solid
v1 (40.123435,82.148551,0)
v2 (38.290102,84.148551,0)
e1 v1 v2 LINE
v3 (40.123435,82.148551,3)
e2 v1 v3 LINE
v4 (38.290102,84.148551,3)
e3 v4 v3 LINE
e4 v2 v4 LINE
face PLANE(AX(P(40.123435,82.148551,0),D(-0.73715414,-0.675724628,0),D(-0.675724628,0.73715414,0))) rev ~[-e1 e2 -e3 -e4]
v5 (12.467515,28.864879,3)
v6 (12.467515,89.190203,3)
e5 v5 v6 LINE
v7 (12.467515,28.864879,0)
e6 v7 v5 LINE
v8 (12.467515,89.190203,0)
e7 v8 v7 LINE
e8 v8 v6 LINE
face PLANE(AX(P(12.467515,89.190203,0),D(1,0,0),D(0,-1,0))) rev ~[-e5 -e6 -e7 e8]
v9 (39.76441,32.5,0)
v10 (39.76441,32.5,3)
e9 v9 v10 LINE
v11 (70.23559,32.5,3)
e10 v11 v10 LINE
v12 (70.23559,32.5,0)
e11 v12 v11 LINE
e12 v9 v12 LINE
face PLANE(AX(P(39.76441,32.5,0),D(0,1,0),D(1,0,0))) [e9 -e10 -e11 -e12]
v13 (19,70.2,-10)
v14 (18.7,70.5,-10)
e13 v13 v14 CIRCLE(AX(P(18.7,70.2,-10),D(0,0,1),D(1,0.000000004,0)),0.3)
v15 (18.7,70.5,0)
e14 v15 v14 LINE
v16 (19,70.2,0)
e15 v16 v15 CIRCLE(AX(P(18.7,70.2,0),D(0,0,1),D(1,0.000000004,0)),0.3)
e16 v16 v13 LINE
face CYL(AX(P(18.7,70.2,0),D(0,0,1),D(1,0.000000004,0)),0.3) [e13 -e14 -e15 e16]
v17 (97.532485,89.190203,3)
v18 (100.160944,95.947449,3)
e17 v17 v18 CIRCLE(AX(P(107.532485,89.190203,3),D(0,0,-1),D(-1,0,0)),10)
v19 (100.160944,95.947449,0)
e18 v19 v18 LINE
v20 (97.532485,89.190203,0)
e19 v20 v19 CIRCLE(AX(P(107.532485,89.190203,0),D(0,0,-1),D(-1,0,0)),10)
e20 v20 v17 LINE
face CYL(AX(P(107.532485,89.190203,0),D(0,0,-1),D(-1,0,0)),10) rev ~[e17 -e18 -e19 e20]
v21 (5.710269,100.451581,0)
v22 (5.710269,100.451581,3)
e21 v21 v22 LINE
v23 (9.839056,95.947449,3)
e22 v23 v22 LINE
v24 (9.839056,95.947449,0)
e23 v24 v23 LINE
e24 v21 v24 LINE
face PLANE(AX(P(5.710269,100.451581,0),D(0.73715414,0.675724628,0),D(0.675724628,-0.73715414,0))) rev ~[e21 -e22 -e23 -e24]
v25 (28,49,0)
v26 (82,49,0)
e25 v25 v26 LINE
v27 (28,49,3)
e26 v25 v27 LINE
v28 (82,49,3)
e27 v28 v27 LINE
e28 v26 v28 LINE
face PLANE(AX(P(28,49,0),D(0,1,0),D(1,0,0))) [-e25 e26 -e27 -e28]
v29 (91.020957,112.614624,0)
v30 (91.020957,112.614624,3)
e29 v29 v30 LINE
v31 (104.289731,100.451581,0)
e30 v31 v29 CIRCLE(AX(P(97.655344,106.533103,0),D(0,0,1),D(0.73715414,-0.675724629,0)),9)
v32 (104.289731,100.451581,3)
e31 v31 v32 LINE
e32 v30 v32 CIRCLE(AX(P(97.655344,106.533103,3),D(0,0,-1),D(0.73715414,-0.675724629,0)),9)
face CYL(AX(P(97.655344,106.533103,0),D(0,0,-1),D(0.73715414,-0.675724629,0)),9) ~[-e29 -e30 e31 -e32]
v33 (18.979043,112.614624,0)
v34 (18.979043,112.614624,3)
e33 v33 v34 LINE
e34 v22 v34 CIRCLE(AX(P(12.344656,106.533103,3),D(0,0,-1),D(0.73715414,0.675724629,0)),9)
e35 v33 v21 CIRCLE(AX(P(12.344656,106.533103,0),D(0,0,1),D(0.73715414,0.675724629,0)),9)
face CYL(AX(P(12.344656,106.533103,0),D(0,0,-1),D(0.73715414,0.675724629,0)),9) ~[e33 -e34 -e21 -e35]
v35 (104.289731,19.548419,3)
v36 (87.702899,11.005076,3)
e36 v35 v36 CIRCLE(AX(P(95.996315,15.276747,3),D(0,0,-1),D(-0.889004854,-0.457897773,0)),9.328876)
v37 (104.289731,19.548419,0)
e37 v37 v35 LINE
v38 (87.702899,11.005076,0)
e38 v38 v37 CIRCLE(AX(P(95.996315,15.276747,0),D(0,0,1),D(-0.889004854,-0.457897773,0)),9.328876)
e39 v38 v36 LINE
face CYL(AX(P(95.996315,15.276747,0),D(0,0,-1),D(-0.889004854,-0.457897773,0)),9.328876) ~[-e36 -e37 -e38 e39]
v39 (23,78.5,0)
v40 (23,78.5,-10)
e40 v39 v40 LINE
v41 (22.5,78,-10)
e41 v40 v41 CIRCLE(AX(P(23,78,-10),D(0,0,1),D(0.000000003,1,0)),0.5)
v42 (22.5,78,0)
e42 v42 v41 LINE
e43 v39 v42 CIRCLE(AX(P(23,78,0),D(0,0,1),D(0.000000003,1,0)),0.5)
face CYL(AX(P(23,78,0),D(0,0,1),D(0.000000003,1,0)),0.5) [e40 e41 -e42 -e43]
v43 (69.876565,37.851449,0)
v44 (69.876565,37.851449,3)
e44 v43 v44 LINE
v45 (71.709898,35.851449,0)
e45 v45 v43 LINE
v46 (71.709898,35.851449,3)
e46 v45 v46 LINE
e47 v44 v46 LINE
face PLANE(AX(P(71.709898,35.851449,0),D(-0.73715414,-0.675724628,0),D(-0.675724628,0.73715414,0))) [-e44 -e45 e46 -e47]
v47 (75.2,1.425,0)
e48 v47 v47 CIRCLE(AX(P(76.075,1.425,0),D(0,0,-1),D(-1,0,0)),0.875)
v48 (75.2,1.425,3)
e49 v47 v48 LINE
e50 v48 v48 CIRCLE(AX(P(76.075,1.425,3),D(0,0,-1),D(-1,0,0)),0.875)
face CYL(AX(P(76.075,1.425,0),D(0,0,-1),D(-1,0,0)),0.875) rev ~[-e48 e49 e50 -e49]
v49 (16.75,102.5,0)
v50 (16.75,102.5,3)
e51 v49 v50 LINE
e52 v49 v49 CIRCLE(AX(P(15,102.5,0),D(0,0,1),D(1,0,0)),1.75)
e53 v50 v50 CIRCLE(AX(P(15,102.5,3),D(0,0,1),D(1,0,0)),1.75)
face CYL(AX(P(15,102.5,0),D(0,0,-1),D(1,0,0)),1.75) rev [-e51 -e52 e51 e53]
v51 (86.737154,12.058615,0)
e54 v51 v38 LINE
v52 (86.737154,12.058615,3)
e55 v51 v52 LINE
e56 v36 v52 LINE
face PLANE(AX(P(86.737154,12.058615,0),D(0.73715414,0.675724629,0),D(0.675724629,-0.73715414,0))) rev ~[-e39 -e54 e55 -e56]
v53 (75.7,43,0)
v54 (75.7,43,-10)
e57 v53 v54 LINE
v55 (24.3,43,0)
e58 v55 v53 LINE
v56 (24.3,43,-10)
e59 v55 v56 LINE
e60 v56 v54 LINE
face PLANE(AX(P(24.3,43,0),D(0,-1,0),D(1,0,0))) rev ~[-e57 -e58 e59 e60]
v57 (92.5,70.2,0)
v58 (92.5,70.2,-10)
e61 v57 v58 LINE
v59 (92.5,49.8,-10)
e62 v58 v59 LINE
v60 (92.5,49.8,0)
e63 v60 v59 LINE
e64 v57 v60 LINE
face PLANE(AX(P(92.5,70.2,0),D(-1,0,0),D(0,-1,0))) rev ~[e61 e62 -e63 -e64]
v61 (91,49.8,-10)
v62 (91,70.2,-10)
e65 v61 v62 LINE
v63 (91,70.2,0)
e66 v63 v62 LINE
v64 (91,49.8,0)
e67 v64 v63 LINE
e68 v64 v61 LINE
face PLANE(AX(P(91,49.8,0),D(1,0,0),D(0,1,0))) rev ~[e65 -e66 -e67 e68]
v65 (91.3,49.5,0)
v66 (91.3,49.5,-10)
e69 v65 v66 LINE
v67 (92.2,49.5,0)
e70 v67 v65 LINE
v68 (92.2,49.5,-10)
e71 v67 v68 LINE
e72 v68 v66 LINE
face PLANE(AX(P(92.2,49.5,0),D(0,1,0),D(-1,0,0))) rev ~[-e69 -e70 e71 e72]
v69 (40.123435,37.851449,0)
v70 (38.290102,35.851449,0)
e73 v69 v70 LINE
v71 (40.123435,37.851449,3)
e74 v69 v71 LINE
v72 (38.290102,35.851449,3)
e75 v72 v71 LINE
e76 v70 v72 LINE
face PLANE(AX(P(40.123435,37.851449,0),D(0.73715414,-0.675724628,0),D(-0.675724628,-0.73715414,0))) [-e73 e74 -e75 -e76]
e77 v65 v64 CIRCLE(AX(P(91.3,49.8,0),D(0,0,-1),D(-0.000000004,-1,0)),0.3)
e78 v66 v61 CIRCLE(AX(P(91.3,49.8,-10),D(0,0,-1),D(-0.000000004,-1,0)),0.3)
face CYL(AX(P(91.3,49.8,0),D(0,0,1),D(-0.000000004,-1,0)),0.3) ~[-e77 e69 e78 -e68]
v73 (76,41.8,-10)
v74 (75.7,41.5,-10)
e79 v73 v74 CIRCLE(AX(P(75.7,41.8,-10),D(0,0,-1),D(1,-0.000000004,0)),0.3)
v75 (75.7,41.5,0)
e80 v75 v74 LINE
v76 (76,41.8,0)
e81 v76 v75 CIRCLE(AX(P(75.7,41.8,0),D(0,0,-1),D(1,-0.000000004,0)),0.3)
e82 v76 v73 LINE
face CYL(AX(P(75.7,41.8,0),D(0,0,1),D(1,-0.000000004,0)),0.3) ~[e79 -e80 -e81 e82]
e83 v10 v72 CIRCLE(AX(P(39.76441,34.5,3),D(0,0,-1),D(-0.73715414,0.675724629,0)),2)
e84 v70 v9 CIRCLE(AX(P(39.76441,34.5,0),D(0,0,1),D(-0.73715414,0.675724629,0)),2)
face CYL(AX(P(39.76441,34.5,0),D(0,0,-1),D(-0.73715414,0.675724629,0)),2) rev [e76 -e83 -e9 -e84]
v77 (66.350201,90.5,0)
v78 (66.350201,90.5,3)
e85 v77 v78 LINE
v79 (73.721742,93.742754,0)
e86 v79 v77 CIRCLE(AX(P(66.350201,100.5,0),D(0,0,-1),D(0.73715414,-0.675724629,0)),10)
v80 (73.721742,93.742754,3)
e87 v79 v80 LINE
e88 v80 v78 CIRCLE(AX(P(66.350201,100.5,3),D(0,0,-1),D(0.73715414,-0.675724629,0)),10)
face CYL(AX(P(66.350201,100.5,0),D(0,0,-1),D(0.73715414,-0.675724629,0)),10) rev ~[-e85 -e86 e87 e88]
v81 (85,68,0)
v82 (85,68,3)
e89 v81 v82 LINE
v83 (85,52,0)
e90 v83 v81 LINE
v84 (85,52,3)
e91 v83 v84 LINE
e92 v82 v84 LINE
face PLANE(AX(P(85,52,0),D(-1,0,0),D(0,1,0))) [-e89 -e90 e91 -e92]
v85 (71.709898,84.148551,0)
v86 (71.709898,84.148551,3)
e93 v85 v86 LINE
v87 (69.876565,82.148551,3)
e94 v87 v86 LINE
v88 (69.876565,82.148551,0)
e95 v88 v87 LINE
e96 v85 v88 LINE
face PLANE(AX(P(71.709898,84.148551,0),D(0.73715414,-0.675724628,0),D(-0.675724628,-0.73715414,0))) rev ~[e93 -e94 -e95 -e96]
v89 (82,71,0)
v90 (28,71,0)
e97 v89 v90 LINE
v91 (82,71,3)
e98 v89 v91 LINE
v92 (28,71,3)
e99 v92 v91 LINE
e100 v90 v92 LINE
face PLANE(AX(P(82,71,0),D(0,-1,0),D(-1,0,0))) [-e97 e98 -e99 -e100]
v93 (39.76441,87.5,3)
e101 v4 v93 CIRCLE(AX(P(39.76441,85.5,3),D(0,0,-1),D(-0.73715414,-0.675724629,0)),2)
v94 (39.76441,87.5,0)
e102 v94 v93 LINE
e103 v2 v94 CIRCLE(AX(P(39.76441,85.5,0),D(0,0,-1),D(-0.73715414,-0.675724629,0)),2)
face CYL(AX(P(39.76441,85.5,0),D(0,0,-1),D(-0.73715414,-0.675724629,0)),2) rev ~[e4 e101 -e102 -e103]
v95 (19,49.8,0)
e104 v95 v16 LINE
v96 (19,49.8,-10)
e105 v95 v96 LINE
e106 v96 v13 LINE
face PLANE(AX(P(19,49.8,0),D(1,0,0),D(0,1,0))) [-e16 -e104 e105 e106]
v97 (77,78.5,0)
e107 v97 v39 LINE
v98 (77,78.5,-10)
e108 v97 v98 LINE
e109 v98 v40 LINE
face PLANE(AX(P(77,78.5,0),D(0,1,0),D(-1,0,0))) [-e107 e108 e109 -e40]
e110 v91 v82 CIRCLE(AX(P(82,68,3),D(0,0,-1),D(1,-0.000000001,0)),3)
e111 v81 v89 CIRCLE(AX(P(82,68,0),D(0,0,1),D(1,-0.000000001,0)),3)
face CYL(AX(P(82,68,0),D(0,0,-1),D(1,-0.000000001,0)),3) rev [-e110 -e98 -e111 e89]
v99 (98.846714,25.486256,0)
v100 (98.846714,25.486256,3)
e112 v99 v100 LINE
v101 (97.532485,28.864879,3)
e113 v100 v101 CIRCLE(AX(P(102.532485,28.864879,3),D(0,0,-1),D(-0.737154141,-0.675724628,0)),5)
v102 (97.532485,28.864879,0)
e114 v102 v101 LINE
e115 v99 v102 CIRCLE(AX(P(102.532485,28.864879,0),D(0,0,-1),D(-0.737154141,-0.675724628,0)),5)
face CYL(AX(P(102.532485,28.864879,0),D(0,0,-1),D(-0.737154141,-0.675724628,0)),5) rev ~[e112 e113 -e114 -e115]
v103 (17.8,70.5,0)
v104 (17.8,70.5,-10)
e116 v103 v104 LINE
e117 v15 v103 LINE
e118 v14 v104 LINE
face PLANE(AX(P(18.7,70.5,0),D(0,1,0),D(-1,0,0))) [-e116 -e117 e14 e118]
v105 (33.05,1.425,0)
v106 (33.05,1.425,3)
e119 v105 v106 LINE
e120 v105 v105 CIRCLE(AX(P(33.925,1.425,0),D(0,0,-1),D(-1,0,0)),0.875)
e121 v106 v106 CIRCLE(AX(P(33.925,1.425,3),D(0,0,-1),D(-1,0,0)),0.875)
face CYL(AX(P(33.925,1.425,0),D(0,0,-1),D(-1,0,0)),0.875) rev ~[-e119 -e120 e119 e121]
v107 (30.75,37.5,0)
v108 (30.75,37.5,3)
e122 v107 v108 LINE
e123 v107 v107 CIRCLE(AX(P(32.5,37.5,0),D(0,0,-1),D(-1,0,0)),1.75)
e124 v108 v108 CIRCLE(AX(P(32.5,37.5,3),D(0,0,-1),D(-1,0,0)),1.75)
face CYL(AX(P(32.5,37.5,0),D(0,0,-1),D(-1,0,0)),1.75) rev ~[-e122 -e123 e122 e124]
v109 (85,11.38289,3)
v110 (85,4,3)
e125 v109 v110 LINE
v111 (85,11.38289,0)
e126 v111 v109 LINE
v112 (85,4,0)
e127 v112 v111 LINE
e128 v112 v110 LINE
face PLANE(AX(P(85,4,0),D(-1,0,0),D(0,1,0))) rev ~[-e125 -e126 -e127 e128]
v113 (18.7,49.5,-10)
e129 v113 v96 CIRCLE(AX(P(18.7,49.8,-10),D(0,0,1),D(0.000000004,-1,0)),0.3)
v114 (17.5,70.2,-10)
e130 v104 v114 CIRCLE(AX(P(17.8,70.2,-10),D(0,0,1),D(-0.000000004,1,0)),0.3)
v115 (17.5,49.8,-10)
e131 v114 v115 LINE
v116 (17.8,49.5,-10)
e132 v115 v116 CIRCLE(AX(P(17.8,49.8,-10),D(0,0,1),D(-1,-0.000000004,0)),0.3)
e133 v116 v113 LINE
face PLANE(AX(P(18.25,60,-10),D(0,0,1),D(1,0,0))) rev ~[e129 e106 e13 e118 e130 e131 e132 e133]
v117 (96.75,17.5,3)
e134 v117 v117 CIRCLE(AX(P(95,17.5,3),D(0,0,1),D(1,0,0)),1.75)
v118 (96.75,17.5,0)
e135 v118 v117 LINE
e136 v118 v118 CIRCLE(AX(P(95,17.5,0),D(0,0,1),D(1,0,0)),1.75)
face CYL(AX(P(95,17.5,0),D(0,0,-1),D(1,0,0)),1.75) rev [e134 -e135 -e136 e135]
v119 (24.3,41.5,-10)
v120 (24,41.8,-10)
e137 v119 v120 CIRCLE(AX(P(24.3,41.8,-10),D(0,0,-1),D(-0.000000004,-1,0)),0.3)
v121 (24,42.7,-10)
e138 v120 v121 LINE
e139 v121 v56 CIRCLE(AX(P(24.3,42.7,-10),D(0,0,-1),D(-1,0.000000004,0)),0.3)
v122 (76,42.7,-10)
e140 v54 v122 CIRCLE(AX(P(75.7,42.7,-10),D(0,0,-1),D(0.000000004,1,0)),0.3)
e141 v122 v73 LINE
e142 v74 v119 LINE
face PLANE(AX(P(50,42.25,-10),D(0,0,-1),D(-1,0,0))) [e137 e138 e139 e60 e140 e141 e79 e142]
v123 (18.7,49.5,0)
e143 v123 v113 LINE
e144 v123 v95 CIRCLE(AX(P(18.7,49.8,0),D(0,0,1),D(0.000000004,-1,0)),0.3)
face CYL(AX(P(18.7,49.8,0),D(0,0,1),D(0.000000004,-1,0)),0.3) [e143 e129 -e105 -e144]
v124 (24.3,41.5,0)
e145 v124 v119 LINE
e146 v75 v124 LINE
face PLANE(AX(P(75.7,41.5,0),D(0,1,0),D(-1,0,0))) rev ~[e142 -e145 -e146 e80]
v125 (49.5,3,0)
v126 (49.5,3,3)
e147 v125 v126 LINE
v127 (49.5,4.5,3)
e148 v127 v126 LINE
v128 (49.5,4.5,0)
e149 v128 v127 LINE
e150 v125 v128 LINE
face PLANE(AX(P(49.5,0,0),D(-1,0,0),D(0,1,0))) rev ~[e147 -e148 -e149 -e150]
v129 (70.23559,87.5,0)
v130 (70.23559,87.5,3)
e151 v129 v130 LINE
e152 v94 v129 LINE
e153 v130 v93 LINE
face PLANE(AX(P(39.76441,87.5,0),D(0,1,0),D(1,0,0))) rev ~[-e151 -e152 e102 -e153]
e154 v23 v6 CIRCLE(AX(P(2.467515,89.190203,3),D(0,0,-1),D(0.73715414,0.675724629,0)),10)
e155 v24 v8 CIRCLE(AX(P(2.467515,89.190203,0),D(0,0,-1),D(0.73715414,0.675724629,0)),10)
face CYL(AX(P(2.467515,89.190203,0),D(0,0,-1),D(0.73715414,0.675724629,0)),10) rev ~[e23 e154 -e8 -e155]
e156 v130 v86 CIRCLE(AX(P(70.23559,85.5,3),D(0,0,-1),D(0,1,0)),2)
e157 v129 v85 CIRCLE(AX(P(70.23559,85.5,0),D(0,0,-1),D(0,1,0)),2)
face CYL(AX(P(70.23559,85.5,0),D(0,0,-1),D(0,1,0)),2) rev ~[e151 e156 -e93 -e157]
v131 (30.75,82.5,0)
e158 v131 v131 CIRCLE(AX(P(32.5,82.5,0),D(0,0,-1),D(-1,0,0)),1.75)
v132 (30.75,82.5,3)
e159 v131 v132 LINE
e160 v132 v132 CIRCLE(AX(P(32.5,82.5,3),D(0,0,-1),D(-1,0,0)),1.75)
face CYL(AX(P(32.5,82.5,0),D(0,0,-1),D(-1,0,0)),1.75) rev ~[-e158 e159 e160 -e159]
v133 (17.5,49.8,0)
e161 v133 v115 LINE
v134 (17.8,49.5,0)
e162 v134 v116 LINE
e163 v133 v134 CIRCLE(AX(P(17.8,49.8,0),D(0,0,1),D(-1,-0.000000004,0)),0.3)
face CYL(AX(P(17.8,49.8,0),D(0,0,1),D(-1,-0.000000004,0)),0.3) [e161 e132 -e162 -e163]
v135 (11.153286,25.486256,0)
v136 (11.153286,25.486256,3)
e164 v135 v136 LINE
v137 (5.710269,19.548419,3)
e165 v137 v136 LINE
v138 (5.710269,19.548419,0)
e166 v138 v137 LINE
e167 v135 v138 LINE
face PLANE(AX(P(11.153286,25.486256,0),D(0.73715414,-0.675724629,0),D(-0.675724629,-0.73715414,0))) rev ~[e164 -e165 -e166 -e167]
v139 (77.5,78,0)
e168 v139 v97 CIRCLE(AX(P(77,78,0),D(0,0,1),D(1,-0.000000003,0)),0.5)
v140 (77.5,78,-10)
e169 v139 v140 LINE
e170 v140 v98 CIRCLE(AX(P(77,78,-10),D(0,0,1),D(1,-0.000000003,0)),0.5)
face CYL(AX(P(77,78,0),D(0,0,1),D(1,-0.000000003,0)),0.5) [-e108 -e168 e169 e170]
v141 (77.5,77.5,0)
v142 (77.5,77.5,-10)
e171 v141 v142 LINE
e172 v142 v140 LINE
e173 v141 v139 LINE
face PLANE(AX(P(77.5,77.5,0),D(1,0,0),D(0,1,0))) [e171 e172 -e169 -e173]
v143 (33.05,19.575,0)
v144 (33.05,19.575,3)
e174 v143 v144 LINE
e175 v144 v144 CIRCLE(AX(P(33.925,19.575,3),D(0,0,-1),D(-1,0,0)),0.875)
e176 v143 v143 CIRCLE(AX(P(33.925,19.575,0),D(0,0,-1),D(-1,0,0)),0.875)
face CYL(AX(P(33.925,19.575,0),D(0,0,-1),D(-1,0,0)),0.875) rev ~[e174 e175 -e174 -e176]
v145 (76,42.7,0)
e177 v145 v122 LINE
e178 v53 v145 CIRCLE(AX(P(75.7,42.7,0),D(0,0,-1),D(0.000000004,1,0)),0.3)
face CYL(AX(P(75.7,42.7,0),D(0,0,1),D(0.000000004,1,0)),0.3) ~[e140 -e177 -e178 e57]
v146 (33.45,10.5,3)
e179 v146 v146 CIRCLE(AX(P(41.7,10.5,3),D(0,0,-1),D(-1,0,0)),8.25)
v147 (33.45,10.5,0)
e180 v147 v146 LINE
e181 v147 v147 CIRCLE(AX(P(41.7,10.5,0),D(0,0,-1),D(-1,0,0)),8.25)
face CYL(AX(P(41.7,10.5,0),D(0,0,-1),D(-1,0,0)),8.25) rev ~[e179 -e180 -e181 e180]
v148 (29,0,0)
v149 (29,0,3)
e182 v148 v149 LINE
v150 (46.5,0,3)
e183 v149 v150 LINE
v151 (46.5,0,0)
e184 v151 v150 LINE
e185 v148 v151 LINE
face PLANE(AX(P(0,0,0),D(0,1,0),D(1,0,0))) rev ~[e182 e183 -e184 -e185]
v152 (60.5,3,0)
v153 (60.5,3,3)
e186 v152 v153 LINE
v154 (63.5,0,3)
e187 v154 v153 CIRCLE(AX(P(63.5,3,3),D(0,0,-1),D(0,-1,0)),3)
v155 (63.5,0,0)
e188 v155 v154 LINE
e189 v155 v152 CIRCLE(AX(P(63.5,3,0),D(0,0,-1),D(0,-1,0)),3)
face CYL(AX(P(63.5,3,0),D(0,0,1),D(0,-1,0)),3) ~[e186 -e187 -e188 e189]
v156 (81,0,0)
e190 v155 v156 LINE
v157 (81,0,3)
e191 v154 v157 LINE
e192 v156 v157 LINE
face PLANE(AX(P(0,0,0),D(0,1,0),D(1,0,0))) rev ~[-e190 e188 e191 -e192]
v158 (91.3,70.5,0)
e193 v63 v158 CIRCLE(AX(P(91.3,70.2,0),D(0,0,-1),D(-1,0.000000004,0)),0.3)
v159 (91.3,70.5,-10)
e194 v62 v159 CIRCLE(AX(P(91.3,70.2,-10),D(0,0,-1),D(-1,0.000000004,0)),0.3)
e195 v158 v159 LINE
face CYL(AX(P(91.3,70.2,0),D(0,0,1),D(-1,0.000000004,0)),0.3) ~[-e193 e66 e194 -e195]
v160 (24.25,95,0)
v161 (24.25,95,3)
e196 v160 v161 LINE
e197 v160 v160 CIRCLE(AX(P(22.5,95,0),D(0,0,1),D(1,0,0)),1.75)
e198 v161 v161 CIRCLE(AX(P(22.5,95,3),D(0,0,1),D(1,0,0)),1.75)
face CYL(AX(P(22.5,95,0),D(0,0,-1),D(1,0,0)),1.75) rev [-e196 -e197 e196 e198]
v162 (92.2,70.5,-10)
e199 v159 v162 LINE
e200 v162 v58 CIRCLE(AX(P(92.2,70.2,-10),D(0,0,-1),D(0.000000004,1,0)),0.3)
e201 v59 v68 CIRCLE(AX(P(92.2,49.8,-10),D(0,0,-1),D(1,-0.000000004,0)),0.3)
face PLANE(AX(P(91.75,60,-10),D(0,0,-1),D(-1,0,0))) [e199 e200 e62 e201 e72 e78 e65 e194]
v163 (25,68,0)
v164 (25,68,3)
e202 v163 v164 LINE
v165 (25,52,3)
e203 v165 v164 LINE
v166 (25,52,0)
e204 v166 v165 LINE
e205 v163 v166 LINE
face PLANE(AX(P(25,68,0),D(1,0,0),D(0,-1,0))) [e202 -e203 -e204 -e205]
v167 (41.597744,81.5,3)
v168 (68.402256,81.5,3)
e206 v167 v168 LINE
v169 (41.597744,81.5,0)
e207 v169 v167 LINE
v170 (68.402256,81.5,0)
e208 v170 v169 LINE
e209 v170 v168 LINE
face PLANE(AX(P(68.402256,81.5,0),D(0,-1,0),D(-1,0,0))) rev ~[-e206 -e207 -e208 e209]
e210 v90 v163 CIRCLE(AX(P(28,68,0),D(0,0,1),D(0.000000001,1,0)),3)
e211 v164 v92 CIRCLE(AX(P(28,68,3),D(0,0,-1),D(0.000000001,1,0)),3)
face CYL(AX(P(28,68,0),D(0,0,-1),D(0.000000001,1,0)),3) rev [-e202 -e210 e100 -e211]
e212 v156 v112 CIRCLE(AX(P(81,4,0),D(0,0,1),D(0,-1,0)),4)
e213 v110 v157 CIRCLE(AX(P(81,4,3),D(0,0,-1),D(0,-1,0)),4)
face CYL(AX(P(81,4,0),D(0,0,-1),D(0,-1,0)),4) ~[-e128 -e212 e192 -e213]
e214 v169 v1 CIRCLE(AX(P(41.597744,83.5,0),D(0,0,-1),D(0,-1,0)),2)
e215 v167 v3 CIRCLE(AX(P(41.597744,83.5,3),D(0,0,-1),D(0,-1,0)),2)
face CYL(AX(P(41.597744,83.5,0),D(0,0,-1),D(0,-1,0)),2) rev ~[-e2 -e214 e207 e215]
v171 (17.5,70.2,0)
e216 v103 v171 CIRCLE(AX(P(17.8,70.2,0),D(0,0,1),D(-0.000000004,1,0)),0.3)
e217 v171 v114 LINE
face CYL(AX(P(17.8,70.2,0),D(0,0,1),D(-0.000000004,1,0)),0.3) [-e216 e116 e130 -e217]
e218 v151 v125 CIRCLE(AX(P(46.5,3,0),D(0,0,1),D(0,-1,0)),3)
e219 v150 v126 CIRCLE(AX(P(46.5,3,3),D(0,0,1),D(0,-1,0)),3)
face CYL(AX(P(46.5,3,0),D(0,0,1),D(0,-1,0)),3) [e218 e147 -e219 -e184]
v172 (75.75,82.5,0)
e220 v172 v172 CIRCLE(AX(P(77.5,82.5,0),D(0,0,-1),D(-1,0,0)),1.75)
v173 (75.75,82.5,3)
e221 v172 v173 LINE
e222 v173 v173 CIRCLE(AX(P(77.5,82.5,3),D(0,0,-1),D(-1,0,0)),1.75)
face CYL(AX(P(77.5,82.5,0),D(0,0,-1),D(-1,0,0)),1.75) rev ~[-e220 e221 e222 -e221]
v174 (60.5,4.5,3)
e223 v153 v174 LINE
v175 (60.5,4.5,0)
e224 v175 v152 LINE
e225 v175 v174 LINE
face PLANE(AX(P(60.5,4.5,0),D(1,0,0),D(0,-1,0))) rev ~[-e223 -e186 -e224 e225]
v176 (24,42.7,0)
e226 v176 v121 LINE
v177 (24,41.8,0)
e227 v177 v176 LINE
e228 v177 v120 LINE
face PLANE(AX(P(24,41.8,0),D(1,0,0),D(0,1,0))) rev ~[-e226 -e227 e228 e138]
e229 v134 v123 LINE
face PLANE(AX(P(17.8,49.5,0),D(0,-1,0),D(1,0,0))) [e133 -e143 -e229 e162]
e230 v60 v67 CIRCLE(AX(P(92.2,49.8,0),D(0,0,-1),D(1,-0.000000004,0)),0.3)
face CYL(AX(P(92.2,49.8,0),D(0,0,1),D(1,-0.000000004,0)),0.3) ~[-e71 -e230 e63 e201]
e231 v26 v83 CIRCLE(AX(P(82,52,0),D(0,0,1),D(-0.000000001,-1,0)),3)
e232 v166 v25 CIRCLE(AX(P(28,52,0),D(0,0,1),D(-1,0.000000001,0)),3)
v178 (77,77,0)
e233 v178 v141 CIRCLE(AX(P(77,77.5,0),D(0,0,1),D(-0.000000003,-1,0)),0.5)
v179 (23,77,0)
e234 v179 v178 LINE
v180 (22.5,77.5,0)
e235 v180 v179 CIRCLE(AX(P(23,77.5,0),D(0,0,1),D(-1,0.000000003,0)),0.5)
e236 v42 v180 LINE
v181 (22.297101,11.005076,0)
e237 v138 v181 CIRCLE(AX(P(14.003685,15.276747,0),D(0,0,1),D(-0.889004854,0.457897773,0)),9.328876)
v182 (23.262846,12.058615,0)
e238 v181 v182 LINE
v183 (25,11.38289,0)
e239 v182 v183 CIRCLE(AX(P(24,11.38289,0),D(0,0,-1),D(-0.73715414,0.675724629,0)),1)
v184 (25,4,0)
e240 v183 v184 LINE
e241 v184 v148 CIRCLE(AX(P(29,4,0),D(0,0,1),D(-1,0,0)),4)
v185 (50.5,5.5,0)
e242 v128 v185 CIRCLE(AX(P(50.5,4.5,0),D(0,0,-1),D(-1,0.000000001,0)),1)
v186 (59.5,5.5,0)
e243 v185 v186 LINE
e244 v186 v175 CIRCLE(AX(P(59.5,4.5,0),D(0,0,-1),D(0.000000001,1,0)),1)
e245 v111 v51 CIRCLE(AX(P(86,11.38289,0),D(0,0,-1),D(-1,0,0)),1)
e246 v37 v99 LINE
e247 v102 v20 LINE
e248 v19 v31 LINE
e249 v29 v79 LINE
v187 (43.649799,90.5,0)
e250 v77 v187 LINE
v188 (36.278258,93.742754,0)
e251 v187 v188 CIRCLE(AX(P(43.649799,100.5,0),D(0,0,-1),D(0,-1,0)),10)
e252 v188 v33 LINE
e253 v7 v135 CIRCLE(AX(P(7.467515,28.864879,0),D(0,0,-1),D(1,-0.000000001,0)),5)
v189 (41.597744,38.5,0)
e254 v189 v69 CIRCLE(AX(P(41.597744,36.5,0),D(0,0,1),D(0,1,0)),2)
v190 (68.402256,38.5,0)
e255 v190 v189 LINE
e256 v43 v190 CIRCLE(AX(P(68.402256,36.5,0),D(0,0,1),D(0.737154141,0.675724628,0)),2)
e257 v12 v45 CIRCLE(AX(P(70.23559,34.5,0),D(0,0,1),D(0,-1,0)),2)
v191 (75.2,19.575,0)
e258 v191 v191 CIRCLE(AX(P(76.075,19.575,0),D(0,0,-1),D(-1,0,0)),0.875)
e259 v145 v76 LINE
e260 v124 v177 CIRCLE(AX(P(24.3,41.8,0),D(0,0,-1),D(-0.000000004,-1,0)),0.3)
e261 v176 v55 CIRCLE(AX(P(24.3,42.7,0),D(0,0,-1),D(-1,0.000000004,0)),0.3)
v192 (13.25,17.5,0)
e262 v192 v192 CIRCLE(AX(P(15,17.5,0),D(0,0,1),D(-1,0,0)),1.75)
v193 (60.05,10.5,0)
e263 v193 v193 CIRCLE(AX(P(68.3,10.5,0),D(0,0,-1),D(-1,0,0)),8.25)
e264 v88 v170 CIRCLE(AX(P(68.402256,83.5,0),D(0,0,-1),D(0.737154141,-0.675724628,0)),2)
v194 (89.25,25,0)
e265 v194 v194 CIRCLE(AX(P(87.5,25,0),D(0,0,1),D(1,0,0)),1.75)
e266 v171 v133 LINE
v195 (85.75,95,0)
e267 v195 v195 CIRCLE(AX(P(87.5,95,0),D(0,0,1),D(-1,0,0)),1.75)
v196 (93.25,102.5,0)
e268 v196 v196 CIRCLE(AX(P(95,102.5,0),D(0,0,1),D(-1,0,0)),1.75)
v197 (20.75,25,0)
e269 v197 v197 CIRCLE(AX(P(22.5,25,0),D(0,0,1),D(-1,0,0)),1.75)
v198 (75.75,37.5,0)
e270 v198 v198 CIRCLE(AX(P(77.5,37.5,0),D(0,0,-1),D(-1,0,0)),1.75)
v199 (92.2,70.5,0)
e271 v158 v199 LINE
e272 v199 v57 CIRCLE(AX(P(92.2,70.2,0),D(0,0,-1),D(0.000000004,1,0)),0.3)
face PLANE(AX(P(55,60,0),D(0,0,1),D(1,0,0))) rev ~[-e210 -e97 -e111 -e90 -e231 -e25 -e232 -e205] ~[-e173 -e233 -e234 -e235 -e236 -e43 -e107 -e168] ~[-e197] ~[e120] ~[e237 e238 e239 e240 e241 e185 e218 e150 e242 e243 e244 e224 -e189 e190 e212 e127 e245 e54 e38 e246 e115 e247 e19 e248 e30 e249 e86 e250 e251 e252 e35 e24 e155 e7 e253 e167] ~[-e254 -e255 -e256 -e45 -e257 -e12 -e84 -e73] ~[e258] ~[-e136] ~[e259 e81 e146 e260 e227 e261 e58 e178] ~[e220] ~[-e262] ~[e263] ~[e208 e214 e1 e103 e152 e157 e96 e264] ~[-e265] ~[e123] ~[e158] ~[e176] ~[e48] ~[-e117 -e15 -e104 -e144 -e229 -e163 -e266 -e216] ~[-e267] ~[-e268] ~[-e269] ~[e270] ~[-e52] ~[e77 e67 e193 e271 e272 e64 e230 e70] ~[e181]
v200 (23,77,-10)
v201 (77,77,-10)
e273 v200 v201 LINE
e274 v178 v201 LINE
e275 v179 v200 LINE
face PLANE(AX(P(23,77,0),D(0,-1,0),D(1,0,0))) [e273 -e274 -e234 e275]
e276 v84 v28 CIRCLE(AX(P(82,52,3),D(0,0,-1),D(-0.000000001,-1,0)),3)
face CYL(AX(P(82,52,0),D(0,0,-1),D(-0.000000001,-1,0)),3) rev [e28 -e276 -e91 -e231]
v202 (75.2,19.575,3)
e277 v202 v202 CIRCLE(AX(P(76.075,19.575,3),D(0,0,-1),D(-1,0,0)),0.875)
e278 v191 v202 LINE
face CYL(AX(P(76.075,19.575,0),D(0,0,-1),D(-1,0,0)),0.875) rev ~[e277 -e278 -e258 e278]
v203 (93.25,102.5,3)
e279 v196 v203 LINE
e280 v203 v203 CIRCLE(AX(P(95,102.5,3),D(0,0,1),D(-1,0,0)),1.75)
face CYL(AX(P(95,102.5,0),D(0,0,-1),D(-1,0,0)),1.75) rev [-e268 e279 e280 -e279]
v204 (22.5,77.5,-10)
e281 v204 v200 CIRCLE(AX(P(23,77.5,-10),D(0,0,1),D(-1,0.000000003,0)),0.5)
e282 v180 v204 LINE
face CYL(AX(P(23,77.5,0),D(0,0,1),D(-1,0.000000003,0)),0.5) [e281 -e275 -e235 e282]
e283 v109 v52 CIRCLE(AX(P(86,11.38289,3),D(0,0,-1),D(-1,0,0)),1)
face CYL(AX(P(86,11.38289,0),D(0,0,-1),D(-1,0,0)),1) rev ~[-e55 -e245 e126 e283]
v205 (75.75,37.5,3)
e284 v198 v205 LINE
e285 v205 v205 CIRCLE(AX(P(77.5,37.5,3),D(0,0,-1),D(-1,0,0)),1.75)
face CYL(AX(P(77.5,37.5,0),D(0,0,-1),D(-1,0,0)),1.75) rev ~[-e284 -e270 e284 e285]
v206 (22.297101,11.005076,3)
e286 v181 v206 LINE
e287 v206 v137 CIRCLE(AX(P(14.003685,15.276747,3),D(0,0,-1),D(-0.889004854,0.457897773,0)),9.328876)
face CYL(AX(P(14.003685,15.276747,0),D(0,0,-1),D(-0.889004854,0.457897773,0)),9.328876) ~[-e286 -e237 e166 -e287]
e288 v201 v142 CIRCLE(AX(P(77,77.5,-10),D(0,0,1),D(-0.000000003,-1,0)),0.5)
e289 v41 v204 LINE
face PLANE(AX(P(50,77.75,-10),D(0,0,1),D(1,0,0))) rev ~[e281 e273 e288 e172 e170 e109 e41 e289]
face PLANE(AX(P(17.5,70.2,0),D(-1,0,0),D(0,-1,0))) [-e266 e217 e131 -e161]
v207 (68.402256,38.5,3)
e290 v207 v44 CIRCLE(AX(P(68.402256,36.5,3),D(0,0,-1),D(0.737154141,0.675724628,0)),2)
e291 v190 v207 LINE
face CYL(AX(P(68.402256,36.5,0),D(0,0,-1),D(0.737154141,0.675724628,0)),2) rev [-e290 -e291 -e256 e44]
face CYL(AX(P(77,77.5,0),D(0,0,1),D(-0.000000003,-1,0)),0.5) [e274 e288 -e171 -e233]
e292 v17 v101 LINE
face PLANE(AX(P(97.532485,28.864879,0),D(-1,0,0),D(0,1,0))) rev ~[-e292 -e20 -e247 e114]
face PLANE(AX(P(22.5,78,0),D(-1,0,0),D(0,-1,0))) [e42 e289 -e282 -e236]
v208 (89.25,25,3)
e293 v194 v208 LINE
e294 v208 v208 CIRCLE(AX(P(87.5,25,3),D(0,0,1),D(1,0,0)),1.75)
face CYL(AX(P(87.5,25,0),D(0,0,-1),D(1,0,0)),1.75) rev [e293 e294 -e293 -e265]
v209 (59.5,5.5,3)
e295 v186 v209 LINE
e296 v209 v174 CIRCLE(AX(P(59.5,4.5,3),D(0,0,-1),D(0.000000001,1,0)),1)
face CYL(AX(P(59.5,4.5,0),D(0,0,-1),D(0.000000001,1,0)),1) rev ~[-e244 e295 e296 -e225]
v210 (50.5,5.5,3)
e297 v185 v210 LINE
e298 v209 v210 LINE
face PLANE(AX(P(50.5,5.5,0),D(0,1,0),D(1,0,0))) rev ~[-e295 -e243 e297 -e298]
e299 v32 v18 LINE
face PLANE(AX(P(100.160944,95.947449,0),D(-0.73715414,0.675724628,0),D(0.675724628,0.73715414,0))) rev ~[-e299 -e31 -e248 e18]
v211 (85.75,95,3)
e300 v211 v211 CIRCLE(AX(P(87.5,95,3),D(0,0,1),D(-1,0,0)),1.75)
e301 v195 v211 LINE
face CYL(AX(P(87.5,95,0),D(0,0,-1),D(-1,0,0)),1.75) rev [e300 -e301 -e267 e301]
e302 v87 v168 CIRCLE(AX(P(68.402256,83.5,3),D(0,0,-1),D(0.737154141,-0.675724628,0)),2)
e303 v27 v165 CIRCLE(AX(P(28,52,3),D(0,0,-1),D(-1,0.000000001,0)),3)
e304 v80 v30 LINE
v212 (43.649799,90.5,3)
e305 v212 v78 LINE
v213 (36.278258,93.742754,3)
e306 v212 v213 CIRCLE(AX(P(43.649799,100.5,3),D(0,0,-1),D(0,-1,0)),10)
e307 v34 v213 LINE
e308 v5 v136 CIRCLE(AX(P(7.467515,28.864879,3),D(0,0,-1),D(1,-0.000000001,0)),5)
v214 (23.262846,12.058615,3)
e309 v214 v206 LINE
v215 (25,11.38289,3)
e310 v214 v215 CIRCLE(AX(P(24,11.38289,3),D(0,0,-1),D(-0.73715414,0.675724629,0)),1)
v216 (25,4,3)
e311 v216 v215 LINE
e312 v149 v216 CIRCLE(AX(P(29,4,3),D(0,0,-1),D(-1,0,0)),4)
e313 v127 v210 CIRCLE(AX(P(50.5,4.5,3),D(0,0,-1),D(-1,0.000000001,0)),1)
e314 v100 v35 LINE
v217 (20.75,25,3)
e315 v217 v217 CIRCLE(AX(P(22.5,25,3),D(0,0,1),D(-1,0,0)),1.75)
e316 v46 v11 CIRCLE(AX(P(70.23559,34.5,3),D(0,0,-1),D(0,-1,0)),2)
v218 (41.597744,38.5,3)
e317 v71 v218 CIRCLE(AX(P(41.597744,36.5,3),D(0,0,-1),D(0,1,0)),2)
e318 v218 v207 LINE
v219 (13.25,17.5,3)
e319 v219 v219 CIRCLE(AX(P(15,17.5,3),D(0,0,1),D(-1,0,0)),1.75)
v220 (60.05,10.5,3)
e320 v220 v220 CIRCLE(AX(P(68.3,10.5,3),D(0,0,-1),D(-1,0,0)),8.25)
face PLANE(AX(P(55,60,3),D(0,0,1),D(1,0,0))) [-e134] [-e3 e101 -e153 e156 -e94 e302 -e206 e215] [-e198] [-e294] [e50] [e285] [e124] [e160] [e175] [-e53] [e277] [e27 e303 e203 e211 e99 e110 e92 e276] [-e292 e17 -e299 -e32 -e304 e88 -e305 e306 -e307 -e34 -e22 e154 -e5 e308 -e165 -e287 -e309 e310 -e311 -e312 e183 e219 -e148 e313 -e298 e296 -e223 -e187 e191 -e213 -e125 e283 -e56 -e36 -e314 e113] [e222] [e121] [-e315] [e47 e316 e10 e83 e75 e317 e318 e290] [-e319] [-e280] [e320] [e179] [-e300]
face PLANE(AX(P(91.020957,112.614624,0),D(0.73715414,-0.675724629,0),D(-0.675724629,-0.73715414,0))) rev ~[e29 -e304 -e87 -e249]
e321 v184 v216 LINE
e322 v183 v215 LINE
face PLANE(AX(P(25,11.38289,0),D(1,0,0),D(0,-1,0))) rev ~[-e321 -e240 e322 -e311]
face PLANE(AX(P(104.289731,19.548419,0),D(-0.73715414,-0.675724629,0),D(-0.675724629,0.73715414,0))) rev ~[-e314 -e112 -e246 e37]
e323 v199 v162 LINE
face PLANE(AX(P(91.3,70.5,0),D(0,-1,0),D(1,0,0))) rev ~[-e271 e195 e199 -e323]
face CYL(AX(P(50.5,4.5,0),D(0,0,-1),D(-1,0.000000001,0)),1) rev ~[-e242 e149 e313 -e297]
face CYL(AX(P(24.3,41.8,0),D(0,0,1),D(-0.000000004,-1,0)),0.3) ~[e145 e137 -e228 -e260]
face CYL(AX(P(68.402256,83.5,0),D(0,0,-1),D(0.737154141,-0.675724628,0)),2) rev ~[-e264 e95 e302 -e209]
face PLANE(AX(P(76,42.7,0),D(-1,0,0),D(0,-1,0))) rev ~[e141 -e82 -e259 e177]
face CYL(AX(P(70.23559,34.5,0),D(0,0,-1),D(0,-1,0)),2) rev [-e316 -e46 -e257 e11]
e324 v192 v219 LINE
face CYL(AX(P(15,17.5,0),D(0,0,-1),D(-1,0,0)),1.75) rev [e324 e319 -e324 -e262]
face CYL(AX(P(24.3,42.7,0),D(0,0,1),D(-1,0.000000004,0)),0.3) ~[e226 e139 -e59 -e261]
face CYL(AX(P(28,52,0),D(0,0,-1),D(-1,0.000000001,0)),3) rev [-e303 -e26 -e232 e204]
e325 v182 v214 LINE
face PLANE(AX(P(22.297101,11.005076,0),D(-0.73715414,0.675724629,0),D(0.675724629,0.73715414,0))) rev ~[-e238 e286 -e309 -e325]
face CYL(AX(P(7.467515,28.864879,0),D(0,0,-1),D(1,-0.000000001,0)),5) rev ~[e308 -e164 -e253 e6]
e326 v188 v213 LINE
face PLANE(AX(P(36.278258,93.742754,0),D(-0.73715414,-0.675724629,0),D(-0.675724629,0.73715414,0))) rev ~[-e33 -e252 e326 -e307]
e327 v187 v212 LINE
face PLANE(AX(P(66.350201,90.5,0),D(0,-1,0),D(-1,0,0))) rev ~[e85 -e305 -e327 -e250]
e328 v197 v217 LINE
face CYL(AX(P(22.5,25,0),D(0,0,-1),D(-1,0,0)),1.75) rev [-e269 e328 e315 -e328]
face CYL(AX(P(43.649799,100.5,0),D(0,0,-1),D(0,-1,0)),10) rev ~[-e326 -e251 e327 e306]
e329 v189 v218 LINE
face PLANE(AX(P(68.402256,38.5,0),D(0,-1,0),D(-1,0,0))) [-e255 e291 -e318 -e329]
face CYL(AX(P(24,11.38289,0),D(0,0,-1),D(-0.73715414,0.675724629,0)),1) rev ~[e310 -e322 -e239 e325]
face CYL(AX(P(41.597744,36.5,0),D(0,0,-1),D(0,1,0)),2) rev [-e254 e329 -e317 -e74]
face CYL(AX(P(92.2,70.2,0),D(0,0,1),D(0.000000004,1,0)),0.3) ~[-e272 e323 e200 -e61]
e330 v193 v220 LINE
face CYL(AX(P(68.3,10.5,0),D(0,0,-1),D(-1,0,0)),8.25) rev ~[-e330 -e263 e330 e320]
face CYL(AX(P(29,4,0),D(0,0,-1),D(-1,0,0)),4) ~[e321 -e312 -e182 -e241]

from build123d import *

# Parameters (mm, degrees)
CROQUIS1_W              = 110
CROQUIS1_H              = 120
CROQUIS1_R              = 1.5
CROQUIS1_R_2            = 1.75
SALIENTE_EXTRUIR1_DEPTH = 3
CROQUIS4_R              = 1.75
CROQUIS4_R_2            = 1.5
CORTAR_EXTRUIR2_DEPTH   = 10
SALIENTE_EXTRUIR2_DEPTH = 10
CORTAR_EXTRUIR3_DEPTH   = 10
CROQUIS7_R              = 0.875
CROQUIS7_R_2            = 8.25
CORTAR_EXTRUIR5_DEPTH   = 10
REDONDEO4_R             = 3
CORTAR_EXTRUIR6_DEPTH   = 10


with BuildPart() as part:
    # Croquis1 → Saliente-Extruir1 (new body)
    with BuildSketch(Plane.XY):
        with Locations((55, 60)):
            Rectangle(CROQUIS1_W, CROQUIS1_H)
        with Locations((32.5, 82.5)):
            Circle(CROQUIS1_R, mode=Mode.SUBTRACT)
        with Locations(Location((77.5, 82.5, 0), (0, 0, 180))):
            Circle(CROQUIS1_R, mode=Mode.SUBTRACT)
        with Locations((77.5, 37.5)):
            Circle(CROQUIS1_R, mode=Mode.SUBTRACT)
        with Locations(Location((32.5, 37.5, 0), (0, 0, 180))):
            Circle(CROQUIS1_R, mode=Mode.SUBTRACT)
        with Locations((95, 17.5)):
            Circle(CROQUIS1_R_2, mode=Mode.SUBTRACT)
        with Locations((87.5, 25)):
            Circle(CROQUIS1_R_2, mode=Mode.SUBTRACT)
        with Locations(Location((22.5, 25, 0), (0, 0, 180))):
            Circle(CROQUIS1_R_2, mode=Mode.SUBTRACT)
        with Locations(Location((15, 17.5, 0), (0, 0, 180))):
            Circle(CROQUIS1_R_2, mode=Mode.SUBTRACT)
        with Locations(Location((87.5, 95, 0), (0, 0, 180))):
            Circle(CROQUIS1_R_2, mode=Mode.SUBTRACT)
        with Locations(Location((95, 102.5, 0), (0, 0, 180))):
            Circle(CROQUIS1_R_2, mode=Mode.SUBTRACT)
        with Locations((15, 102.5)):
            Circle(CROQUIS1_R_2, mode=Mode.SUBTRACT)
        with Locations((22.5, 95)):
            Circle(CROQUIS1_R_2, mode=Mode.SUBTRACT)
    extrude(amount=SALIENTE_EXTRUIR1_DEPTH)

    # Croquis4 → Cortar-Extruir2 (cut)
    # profile 1 of 4: a face of its own
    with BuildSketch(Plane(origin=(0, 0, 0), x_dir=(-1, 0, 0), z_dir=(0, 0, -1))):
        with Locations((-32.5, 82.5)):
            Circle(CROQUIS4_R)
        with Locations((-32.5, 82.5)):
            Circle(CROQUIS4_R_2, mode=Mode.SUBTRACT)
    # profile 2 of 4: a face of its own
    with BuildSketch(Plane(origin=(0, 0, 0), x_dir=(-1, 0, 0), z_dir=(0, 0, -1))):
        with Locations((-32.5, 37.5)):
            Circle(CROQUIS4_R)
        with Locations((-32.5, 37.5)):
            Circle(CROQUIS4_R_2, mode=Mode.SUBTRACT)
    # profile 3 of 4: a face of its own
    with BuildSketch(Plane(origin=(0, 0, 0), x_dir=(-1, 0, 0), z_dir=(0, 0, -1))):
        with Locations((-77.5, 82.5)):
            Circle(CROQUIS4_R)
        with Locations((-77.5, 82.5)):
            Circle(CROQUIS4_R_2, mode=Mode.SUBTRACT)
    # profile 4 of 4: a face of its own
    with BuildSketch(Plane(origin=(0, 0, 0), x_dir=(-1, 0, 0), z_dir=(0, 0, -1))):
        with Locations((-77.5, 37.5)):
            Circle(CROQUIS4_R)
        with Locations((-77.5, 37.5)):
            Circle(CROQUIS4_R_2, mode=Mode.SUBTRACT)
    extrude(amount=-CORTAR_EXTRUIR2_DEPTH, mode=Mode.SUBTRACT)

    # Croquis5 → Saliente-Extruir2 (add)
    with BuildSketch(Plane(origin=(0, 0, 0), x_dir=(-1, 0, 0), z_dir=(0, 0, -1))):
        with BuildLine():
            Line((-22.5, 78), (-22.5, 77.5))
            ThreePointArc((-22.5, 77.5), (-22.646446609, 77.146446609), (-23, 77))
            Line((-23, 77), (-77, 77))
            ThreePointArc((-77, 77), (-77.353553391, 77.146446609), (-77.5, 77.5))
            Line((-77.5, 77.5), (-77.5, 78))
            ThreePointArc((-77.5, 78), (-77.353553391, 78.353553391), (-77, 78.5))
            Line((-77, 78.5), (-23, 78.5))
            ThreePointArc((-23, 78.5), (-22.646446609, 78.353553391), (-22.5, 78))
        make_face()
        with BuildLine():
            Line((-92.2, 49.5), (-91.3, 49.5))
            ThreePointArc((-91.3, 49.5), (-91.087867966, 49.587867966), (-91, 49.8))
            Line((-91, 49.8), (-91, 70.2))
            ThreePointArc((-91, 70.2), (-91.087867966, 70.412132034), (-91.3, 70.5))
            Line((-91.3, 70.5), (-92.2, 70.5))
            ThreePointArc((-92.2, 70.5), (-92.412132034, 70.412132034), (-92.5, 70.2))
            Line((-92.5, 70.2), (-92.5, 49.8))
            ThreePointArc((-92.5, 49.8), (-92.412132034, 49.587867966), (-92.2, 49.5))
        make_face()
        with BuildLine():
            Line((-17.5, 70.2), (-17.5, 49.8))
            ThreePointArc((-17.5, 49.8), (-17.587867966, 49.587867966), (-17.8, 49.5))
            Line((-17.8, 49.5), (-18.7, 49.5))
            ThreePointArc((-18.7, 49.5), (-18.912132034, 49.587867966), (-19, 49.8))
            Line((-19, 49.8), (-19, 70.2))
            ThreePointArc((-19, 70.2), (-18.912132034, 70.412132034), (-18.7, 70.5))
            Line((-18.7, 70.5), (-17.8, 70.5))
            ThreePointArc((-17.8, 70.5), (-17.587867966, 70.412132034), (-17.5, 70.2))
        make_face()
        with BuildLine():
            Line((-76, 42.7), (-76, 41.8))
            ThreePointArc((-76, 41.8), (-75.912132034, 41.587867966), (-75.7, 41.5))
            Line((-75.7, 41.5), (-24.3, 41.5))
            ThreePointArc((-24.3, 41.5), (-24.087867966, 41.587867966), (-24, 41.8))
            Line((-24, 41.8), (-24, 42.7))
            ThreePointArc((-24, 42.7), (-24.087867966, 42.912132034), (-24.3, 43))
            Line((-24.3, 43), (-75.7, 43))
            ThreePointArc((-75.7, 43), (-75.912132034, 42.912132034), (-76, 42.7))
        make_face()
    extrude(amount=SALIENTE_EXTRUIR2_DEPTH)

    # Croquis6 → Cortar-Extruir3 (cut)
    with BuildSketch(Plane(origin=(0, 0, 0), x_dir=(-1, 0, 0), z_dir=(0, 0, -1))):
        with BuildLine():
            Line((-82, 71), (-28, 71))
            ThreePointArc((-28, 71), (-25.878679656, 70.121320344), (-25, 68))
            Line((-25, 68), (-25, 52))
            ThreePointArc((-25, 52), (-25.878679656, 49.878679656), (-28, 49))
            Line((-28, 49), (-82, 49))
            ThreePointArc((-82, 49), (-84.121320344, 49.878679656), (-85, 52))
            Line((-85, 52), (-85, 68))
            ThreePointArc((-85, 68), (-84.121320344, 70.121320344), (-82, 71))
        make_face()
        with BuildLine():
            Line((-71.709897982, 84.148550743), (-69.876564649, 82.148550743))
            ThreePointArc((-69.876564649, 82.148550743), (-69.207582851, 81.669303614), (-68.402256369, 81.5))
            Line((-68.402256369, 81.5), (-41.597743631, 81.5))
            ThreePointArc((-41.597743631, 81.5), (-40.792417149, 81.669303614), (-40.123435351, 82.148550743))
            Line((-40.123435351, 82.148550743), (-38.290102018, 84.148550743))
            ThreePointArc((-38.290102018, 84.148550743), (-37.933713912, 86.305326482), (-39.764410298, 87.5))
            Line((-39.764410298, 87.5), (-70.235589702, 87.5))
            ThreePointArc((-70.235589702, 87.5), (-72.066286088, 86.305326482), (-71.709897982, 84.148550743))
        make_face()
        with BuildLine():
            Line((-39.764410298, 32.5), (-70.235589702, 32.5))
            ThreePointArc((-70.235589702, 32.5), (-72.066286088, 33.694673518), (-71.709897982, 35.851449257))
            Line((-71.709897982, 35.851449257), (-69.876564649, 37.851449257))
            ThreePointArc((-69.876564649, 37.851449257), (-69.207582851, 38.330696386), (-68.402256369, 38.5))
            Line((-68.402256369, 38.5), (-41.597743631, 38.5))
            ThreePointArc((-41.597743631, 38.5), (-40.792417149, 38.330696386), (-40.123435351, 37.851449257))
            Line((-40.123435351, 37.851449257), (-38.290102018, 35.851449257))
            ThreePointArc((-38.290102018, 35.851449257), (-37.933713912, 33.694673518), (-39.764410298, 32.5))
        make_face()
    extrude(amount=-CORTAR_EXTRUIR3_DEPTH, mode=Mode.SUBTRACT)

    # Croquis7 → Cortar-Extruir5 (cut)
    with BuildSketch(Plane(origin=(0, 0, 0), x_dir=(-1, 0, 0), z_dir=(0, 0, -1))):
        with BuildLine():
            Line((-60.5, 0), (-49.5, 0))
            Line((-49.5, 0), (-49.5, 4.5))
            ThreePointArc((-49.5, 4.5), (-49.792893219, 5.207106781), (-50.5, 5.5))
            Line((-50.5, 5.5), (-59.5, 5.5))
            ThreePointArc((-59.5, 5.5), (-60.207106781, 5.207106781), (-60.5, 4.5))
            Line((-60.5, 4.5), (-60.5, 0))
        make_face()
        with Locations((-76.075, 19.575)):
            Circle(CROQUIS7_R)
        with Locations((-76.075, 1.425)):
            Circle(CROQUIS7_R)
        with Locations((-33.925, 1.425)):
            Circle(CROQUIS7_R)
        with Locations((-33.925, 19.575)):
            Circle(CROQUIS7_R)
        with Locations((-68.3, 10.5)):
            Circle(CROQUIS7_R_2)
        with Locations((-41.7, 10.5)):
            Circle(CROQUIS7_R_2)
    extrude(amount=-CORTAR_EXTRUIR5_DEPTH, mode=Mode.SUBTRACT)

    # Redondeo4
    redondeo4_edges = [part.edges().sort_by_distance(p)[0] for p in [
        (60.5, 0, 1.5),
        (49.5, 0, 1.5),
    ]]
    fillet(redondeo4_edges, radius=REDONDEO4_R)

    # Croquis9 → Cortar-Extruir6 (cut)
    with BuildSketch(Plane(origin=(0, 0, 0), x_dir=(-1, 0, 0), z_dir=(0, 0, -1))):
        with BuildLine():
            Line((-66.350200723, 90.5), (-43.649799277, 90.5))
            ThreePointArc((-43.649799277, 90.5), (-39.623166866, 91.346518071), (-36.278257875, 93.742753715))
            Line((-36.278257875, 93.742753715), (-18.979043258, 112.614624206))
            ThreePointArc((-18.979043258, 112.614624206), (-6.26313434, 113.167489811), (-5.710268735, 100.451580893))
            Line((-5.710268735, 100.451580893), (-9.839056422, 95.94744887))
            ThreePointArc((-9.839056422, 95.94744887), (-11.787263247, 92.815432645), (-12.46751502, 89.190202585))
            Line((-12.46751502, 89.190202585), (-12.46751502, 28.864878962))
            ThreePointArc((-12.46751502, 28.864878962), (-12.127389133, 27.052263932), (-11.153285721, 25.486255819))
            Line((-11.153285721, 25.486255819), (-5.710268735, 19.548419107))
            ThreePointArc((-5.710268735, 19.548419107), (-9.732013396, 6.983331017), (-22.297101486, 11.005075679))
            Line((-22.297101486, 11.005075679), (-23.26284586, 12.058614996))
            ThreePointArc((-23.26284586, 12.058614996), (-24.362523006, 12.31486519), (-25, 11.382890367))
            Line((-25, 11.382890367), (-25, 4))
            ThreePointArc((-25, 4), (-26.171572875, 1.171572875), (-29, 0))
            Line((-29, 0), (0, 0))
            Line((0, 0), (0, 120))
            Line((0, 120), (-110, 120))
            Line((-110, 120), (-110, 0))
            Line((-110, 0), (-81, 0))
            ThreePointArc((-81, 0), (-83.828427125, 1.171572875), (-85, 4))
            Line((-85, 4), (-85, 11.382890367))
            ThreePointArc((-85, 11.382890367), (-85.637476994, 12.31486519), (-86.73715414, 12.058614996))
            Line((-86.73715414, 12.058614996), (-87.702898514, 11.005075679))
            ThreePointArc((-87.702898514, 11.005075679), (-100.267986604, 6.983331017), (-104.289731265, 19.548419107))
            Line((-104.289731265, 19.548419107), (-98.846714279, 25.486255819))
            ThreePointArc((-98.846714279, 25.486255819), (-97.872610867, 27.052263932), (-97.53248498, 28.864878962))
            Line((-97.53248498, 28.864878962), (-97.53248498, 89.190202585))
            ThreePointArc((-97.53248498, 89.190202585), (-98.212736753, 92.815432645), (-100.160943578, 95.94744887))
            Line((-100.160943578, 95.94744887), (-104.289731265, 100.451580893))
            ThreePointArc((-104.289731265, 100.451580893), (-103.73686566, 113.167489811), (-91.020956742, 112.614624206))
            Line((-91.020956742, 112.614624206), (-73.721742125, 93.742753715))
            ThreePointArc((-73.721742125, 93.742753715), (-70.376833134, 91.346518071), (-66.350200723, 90.5))
        make_face()
    extrude(amount=-CORTAR_EXTRUIR6_DEPTH, mode=Mode.SUBTRACT)


solid = part.part
